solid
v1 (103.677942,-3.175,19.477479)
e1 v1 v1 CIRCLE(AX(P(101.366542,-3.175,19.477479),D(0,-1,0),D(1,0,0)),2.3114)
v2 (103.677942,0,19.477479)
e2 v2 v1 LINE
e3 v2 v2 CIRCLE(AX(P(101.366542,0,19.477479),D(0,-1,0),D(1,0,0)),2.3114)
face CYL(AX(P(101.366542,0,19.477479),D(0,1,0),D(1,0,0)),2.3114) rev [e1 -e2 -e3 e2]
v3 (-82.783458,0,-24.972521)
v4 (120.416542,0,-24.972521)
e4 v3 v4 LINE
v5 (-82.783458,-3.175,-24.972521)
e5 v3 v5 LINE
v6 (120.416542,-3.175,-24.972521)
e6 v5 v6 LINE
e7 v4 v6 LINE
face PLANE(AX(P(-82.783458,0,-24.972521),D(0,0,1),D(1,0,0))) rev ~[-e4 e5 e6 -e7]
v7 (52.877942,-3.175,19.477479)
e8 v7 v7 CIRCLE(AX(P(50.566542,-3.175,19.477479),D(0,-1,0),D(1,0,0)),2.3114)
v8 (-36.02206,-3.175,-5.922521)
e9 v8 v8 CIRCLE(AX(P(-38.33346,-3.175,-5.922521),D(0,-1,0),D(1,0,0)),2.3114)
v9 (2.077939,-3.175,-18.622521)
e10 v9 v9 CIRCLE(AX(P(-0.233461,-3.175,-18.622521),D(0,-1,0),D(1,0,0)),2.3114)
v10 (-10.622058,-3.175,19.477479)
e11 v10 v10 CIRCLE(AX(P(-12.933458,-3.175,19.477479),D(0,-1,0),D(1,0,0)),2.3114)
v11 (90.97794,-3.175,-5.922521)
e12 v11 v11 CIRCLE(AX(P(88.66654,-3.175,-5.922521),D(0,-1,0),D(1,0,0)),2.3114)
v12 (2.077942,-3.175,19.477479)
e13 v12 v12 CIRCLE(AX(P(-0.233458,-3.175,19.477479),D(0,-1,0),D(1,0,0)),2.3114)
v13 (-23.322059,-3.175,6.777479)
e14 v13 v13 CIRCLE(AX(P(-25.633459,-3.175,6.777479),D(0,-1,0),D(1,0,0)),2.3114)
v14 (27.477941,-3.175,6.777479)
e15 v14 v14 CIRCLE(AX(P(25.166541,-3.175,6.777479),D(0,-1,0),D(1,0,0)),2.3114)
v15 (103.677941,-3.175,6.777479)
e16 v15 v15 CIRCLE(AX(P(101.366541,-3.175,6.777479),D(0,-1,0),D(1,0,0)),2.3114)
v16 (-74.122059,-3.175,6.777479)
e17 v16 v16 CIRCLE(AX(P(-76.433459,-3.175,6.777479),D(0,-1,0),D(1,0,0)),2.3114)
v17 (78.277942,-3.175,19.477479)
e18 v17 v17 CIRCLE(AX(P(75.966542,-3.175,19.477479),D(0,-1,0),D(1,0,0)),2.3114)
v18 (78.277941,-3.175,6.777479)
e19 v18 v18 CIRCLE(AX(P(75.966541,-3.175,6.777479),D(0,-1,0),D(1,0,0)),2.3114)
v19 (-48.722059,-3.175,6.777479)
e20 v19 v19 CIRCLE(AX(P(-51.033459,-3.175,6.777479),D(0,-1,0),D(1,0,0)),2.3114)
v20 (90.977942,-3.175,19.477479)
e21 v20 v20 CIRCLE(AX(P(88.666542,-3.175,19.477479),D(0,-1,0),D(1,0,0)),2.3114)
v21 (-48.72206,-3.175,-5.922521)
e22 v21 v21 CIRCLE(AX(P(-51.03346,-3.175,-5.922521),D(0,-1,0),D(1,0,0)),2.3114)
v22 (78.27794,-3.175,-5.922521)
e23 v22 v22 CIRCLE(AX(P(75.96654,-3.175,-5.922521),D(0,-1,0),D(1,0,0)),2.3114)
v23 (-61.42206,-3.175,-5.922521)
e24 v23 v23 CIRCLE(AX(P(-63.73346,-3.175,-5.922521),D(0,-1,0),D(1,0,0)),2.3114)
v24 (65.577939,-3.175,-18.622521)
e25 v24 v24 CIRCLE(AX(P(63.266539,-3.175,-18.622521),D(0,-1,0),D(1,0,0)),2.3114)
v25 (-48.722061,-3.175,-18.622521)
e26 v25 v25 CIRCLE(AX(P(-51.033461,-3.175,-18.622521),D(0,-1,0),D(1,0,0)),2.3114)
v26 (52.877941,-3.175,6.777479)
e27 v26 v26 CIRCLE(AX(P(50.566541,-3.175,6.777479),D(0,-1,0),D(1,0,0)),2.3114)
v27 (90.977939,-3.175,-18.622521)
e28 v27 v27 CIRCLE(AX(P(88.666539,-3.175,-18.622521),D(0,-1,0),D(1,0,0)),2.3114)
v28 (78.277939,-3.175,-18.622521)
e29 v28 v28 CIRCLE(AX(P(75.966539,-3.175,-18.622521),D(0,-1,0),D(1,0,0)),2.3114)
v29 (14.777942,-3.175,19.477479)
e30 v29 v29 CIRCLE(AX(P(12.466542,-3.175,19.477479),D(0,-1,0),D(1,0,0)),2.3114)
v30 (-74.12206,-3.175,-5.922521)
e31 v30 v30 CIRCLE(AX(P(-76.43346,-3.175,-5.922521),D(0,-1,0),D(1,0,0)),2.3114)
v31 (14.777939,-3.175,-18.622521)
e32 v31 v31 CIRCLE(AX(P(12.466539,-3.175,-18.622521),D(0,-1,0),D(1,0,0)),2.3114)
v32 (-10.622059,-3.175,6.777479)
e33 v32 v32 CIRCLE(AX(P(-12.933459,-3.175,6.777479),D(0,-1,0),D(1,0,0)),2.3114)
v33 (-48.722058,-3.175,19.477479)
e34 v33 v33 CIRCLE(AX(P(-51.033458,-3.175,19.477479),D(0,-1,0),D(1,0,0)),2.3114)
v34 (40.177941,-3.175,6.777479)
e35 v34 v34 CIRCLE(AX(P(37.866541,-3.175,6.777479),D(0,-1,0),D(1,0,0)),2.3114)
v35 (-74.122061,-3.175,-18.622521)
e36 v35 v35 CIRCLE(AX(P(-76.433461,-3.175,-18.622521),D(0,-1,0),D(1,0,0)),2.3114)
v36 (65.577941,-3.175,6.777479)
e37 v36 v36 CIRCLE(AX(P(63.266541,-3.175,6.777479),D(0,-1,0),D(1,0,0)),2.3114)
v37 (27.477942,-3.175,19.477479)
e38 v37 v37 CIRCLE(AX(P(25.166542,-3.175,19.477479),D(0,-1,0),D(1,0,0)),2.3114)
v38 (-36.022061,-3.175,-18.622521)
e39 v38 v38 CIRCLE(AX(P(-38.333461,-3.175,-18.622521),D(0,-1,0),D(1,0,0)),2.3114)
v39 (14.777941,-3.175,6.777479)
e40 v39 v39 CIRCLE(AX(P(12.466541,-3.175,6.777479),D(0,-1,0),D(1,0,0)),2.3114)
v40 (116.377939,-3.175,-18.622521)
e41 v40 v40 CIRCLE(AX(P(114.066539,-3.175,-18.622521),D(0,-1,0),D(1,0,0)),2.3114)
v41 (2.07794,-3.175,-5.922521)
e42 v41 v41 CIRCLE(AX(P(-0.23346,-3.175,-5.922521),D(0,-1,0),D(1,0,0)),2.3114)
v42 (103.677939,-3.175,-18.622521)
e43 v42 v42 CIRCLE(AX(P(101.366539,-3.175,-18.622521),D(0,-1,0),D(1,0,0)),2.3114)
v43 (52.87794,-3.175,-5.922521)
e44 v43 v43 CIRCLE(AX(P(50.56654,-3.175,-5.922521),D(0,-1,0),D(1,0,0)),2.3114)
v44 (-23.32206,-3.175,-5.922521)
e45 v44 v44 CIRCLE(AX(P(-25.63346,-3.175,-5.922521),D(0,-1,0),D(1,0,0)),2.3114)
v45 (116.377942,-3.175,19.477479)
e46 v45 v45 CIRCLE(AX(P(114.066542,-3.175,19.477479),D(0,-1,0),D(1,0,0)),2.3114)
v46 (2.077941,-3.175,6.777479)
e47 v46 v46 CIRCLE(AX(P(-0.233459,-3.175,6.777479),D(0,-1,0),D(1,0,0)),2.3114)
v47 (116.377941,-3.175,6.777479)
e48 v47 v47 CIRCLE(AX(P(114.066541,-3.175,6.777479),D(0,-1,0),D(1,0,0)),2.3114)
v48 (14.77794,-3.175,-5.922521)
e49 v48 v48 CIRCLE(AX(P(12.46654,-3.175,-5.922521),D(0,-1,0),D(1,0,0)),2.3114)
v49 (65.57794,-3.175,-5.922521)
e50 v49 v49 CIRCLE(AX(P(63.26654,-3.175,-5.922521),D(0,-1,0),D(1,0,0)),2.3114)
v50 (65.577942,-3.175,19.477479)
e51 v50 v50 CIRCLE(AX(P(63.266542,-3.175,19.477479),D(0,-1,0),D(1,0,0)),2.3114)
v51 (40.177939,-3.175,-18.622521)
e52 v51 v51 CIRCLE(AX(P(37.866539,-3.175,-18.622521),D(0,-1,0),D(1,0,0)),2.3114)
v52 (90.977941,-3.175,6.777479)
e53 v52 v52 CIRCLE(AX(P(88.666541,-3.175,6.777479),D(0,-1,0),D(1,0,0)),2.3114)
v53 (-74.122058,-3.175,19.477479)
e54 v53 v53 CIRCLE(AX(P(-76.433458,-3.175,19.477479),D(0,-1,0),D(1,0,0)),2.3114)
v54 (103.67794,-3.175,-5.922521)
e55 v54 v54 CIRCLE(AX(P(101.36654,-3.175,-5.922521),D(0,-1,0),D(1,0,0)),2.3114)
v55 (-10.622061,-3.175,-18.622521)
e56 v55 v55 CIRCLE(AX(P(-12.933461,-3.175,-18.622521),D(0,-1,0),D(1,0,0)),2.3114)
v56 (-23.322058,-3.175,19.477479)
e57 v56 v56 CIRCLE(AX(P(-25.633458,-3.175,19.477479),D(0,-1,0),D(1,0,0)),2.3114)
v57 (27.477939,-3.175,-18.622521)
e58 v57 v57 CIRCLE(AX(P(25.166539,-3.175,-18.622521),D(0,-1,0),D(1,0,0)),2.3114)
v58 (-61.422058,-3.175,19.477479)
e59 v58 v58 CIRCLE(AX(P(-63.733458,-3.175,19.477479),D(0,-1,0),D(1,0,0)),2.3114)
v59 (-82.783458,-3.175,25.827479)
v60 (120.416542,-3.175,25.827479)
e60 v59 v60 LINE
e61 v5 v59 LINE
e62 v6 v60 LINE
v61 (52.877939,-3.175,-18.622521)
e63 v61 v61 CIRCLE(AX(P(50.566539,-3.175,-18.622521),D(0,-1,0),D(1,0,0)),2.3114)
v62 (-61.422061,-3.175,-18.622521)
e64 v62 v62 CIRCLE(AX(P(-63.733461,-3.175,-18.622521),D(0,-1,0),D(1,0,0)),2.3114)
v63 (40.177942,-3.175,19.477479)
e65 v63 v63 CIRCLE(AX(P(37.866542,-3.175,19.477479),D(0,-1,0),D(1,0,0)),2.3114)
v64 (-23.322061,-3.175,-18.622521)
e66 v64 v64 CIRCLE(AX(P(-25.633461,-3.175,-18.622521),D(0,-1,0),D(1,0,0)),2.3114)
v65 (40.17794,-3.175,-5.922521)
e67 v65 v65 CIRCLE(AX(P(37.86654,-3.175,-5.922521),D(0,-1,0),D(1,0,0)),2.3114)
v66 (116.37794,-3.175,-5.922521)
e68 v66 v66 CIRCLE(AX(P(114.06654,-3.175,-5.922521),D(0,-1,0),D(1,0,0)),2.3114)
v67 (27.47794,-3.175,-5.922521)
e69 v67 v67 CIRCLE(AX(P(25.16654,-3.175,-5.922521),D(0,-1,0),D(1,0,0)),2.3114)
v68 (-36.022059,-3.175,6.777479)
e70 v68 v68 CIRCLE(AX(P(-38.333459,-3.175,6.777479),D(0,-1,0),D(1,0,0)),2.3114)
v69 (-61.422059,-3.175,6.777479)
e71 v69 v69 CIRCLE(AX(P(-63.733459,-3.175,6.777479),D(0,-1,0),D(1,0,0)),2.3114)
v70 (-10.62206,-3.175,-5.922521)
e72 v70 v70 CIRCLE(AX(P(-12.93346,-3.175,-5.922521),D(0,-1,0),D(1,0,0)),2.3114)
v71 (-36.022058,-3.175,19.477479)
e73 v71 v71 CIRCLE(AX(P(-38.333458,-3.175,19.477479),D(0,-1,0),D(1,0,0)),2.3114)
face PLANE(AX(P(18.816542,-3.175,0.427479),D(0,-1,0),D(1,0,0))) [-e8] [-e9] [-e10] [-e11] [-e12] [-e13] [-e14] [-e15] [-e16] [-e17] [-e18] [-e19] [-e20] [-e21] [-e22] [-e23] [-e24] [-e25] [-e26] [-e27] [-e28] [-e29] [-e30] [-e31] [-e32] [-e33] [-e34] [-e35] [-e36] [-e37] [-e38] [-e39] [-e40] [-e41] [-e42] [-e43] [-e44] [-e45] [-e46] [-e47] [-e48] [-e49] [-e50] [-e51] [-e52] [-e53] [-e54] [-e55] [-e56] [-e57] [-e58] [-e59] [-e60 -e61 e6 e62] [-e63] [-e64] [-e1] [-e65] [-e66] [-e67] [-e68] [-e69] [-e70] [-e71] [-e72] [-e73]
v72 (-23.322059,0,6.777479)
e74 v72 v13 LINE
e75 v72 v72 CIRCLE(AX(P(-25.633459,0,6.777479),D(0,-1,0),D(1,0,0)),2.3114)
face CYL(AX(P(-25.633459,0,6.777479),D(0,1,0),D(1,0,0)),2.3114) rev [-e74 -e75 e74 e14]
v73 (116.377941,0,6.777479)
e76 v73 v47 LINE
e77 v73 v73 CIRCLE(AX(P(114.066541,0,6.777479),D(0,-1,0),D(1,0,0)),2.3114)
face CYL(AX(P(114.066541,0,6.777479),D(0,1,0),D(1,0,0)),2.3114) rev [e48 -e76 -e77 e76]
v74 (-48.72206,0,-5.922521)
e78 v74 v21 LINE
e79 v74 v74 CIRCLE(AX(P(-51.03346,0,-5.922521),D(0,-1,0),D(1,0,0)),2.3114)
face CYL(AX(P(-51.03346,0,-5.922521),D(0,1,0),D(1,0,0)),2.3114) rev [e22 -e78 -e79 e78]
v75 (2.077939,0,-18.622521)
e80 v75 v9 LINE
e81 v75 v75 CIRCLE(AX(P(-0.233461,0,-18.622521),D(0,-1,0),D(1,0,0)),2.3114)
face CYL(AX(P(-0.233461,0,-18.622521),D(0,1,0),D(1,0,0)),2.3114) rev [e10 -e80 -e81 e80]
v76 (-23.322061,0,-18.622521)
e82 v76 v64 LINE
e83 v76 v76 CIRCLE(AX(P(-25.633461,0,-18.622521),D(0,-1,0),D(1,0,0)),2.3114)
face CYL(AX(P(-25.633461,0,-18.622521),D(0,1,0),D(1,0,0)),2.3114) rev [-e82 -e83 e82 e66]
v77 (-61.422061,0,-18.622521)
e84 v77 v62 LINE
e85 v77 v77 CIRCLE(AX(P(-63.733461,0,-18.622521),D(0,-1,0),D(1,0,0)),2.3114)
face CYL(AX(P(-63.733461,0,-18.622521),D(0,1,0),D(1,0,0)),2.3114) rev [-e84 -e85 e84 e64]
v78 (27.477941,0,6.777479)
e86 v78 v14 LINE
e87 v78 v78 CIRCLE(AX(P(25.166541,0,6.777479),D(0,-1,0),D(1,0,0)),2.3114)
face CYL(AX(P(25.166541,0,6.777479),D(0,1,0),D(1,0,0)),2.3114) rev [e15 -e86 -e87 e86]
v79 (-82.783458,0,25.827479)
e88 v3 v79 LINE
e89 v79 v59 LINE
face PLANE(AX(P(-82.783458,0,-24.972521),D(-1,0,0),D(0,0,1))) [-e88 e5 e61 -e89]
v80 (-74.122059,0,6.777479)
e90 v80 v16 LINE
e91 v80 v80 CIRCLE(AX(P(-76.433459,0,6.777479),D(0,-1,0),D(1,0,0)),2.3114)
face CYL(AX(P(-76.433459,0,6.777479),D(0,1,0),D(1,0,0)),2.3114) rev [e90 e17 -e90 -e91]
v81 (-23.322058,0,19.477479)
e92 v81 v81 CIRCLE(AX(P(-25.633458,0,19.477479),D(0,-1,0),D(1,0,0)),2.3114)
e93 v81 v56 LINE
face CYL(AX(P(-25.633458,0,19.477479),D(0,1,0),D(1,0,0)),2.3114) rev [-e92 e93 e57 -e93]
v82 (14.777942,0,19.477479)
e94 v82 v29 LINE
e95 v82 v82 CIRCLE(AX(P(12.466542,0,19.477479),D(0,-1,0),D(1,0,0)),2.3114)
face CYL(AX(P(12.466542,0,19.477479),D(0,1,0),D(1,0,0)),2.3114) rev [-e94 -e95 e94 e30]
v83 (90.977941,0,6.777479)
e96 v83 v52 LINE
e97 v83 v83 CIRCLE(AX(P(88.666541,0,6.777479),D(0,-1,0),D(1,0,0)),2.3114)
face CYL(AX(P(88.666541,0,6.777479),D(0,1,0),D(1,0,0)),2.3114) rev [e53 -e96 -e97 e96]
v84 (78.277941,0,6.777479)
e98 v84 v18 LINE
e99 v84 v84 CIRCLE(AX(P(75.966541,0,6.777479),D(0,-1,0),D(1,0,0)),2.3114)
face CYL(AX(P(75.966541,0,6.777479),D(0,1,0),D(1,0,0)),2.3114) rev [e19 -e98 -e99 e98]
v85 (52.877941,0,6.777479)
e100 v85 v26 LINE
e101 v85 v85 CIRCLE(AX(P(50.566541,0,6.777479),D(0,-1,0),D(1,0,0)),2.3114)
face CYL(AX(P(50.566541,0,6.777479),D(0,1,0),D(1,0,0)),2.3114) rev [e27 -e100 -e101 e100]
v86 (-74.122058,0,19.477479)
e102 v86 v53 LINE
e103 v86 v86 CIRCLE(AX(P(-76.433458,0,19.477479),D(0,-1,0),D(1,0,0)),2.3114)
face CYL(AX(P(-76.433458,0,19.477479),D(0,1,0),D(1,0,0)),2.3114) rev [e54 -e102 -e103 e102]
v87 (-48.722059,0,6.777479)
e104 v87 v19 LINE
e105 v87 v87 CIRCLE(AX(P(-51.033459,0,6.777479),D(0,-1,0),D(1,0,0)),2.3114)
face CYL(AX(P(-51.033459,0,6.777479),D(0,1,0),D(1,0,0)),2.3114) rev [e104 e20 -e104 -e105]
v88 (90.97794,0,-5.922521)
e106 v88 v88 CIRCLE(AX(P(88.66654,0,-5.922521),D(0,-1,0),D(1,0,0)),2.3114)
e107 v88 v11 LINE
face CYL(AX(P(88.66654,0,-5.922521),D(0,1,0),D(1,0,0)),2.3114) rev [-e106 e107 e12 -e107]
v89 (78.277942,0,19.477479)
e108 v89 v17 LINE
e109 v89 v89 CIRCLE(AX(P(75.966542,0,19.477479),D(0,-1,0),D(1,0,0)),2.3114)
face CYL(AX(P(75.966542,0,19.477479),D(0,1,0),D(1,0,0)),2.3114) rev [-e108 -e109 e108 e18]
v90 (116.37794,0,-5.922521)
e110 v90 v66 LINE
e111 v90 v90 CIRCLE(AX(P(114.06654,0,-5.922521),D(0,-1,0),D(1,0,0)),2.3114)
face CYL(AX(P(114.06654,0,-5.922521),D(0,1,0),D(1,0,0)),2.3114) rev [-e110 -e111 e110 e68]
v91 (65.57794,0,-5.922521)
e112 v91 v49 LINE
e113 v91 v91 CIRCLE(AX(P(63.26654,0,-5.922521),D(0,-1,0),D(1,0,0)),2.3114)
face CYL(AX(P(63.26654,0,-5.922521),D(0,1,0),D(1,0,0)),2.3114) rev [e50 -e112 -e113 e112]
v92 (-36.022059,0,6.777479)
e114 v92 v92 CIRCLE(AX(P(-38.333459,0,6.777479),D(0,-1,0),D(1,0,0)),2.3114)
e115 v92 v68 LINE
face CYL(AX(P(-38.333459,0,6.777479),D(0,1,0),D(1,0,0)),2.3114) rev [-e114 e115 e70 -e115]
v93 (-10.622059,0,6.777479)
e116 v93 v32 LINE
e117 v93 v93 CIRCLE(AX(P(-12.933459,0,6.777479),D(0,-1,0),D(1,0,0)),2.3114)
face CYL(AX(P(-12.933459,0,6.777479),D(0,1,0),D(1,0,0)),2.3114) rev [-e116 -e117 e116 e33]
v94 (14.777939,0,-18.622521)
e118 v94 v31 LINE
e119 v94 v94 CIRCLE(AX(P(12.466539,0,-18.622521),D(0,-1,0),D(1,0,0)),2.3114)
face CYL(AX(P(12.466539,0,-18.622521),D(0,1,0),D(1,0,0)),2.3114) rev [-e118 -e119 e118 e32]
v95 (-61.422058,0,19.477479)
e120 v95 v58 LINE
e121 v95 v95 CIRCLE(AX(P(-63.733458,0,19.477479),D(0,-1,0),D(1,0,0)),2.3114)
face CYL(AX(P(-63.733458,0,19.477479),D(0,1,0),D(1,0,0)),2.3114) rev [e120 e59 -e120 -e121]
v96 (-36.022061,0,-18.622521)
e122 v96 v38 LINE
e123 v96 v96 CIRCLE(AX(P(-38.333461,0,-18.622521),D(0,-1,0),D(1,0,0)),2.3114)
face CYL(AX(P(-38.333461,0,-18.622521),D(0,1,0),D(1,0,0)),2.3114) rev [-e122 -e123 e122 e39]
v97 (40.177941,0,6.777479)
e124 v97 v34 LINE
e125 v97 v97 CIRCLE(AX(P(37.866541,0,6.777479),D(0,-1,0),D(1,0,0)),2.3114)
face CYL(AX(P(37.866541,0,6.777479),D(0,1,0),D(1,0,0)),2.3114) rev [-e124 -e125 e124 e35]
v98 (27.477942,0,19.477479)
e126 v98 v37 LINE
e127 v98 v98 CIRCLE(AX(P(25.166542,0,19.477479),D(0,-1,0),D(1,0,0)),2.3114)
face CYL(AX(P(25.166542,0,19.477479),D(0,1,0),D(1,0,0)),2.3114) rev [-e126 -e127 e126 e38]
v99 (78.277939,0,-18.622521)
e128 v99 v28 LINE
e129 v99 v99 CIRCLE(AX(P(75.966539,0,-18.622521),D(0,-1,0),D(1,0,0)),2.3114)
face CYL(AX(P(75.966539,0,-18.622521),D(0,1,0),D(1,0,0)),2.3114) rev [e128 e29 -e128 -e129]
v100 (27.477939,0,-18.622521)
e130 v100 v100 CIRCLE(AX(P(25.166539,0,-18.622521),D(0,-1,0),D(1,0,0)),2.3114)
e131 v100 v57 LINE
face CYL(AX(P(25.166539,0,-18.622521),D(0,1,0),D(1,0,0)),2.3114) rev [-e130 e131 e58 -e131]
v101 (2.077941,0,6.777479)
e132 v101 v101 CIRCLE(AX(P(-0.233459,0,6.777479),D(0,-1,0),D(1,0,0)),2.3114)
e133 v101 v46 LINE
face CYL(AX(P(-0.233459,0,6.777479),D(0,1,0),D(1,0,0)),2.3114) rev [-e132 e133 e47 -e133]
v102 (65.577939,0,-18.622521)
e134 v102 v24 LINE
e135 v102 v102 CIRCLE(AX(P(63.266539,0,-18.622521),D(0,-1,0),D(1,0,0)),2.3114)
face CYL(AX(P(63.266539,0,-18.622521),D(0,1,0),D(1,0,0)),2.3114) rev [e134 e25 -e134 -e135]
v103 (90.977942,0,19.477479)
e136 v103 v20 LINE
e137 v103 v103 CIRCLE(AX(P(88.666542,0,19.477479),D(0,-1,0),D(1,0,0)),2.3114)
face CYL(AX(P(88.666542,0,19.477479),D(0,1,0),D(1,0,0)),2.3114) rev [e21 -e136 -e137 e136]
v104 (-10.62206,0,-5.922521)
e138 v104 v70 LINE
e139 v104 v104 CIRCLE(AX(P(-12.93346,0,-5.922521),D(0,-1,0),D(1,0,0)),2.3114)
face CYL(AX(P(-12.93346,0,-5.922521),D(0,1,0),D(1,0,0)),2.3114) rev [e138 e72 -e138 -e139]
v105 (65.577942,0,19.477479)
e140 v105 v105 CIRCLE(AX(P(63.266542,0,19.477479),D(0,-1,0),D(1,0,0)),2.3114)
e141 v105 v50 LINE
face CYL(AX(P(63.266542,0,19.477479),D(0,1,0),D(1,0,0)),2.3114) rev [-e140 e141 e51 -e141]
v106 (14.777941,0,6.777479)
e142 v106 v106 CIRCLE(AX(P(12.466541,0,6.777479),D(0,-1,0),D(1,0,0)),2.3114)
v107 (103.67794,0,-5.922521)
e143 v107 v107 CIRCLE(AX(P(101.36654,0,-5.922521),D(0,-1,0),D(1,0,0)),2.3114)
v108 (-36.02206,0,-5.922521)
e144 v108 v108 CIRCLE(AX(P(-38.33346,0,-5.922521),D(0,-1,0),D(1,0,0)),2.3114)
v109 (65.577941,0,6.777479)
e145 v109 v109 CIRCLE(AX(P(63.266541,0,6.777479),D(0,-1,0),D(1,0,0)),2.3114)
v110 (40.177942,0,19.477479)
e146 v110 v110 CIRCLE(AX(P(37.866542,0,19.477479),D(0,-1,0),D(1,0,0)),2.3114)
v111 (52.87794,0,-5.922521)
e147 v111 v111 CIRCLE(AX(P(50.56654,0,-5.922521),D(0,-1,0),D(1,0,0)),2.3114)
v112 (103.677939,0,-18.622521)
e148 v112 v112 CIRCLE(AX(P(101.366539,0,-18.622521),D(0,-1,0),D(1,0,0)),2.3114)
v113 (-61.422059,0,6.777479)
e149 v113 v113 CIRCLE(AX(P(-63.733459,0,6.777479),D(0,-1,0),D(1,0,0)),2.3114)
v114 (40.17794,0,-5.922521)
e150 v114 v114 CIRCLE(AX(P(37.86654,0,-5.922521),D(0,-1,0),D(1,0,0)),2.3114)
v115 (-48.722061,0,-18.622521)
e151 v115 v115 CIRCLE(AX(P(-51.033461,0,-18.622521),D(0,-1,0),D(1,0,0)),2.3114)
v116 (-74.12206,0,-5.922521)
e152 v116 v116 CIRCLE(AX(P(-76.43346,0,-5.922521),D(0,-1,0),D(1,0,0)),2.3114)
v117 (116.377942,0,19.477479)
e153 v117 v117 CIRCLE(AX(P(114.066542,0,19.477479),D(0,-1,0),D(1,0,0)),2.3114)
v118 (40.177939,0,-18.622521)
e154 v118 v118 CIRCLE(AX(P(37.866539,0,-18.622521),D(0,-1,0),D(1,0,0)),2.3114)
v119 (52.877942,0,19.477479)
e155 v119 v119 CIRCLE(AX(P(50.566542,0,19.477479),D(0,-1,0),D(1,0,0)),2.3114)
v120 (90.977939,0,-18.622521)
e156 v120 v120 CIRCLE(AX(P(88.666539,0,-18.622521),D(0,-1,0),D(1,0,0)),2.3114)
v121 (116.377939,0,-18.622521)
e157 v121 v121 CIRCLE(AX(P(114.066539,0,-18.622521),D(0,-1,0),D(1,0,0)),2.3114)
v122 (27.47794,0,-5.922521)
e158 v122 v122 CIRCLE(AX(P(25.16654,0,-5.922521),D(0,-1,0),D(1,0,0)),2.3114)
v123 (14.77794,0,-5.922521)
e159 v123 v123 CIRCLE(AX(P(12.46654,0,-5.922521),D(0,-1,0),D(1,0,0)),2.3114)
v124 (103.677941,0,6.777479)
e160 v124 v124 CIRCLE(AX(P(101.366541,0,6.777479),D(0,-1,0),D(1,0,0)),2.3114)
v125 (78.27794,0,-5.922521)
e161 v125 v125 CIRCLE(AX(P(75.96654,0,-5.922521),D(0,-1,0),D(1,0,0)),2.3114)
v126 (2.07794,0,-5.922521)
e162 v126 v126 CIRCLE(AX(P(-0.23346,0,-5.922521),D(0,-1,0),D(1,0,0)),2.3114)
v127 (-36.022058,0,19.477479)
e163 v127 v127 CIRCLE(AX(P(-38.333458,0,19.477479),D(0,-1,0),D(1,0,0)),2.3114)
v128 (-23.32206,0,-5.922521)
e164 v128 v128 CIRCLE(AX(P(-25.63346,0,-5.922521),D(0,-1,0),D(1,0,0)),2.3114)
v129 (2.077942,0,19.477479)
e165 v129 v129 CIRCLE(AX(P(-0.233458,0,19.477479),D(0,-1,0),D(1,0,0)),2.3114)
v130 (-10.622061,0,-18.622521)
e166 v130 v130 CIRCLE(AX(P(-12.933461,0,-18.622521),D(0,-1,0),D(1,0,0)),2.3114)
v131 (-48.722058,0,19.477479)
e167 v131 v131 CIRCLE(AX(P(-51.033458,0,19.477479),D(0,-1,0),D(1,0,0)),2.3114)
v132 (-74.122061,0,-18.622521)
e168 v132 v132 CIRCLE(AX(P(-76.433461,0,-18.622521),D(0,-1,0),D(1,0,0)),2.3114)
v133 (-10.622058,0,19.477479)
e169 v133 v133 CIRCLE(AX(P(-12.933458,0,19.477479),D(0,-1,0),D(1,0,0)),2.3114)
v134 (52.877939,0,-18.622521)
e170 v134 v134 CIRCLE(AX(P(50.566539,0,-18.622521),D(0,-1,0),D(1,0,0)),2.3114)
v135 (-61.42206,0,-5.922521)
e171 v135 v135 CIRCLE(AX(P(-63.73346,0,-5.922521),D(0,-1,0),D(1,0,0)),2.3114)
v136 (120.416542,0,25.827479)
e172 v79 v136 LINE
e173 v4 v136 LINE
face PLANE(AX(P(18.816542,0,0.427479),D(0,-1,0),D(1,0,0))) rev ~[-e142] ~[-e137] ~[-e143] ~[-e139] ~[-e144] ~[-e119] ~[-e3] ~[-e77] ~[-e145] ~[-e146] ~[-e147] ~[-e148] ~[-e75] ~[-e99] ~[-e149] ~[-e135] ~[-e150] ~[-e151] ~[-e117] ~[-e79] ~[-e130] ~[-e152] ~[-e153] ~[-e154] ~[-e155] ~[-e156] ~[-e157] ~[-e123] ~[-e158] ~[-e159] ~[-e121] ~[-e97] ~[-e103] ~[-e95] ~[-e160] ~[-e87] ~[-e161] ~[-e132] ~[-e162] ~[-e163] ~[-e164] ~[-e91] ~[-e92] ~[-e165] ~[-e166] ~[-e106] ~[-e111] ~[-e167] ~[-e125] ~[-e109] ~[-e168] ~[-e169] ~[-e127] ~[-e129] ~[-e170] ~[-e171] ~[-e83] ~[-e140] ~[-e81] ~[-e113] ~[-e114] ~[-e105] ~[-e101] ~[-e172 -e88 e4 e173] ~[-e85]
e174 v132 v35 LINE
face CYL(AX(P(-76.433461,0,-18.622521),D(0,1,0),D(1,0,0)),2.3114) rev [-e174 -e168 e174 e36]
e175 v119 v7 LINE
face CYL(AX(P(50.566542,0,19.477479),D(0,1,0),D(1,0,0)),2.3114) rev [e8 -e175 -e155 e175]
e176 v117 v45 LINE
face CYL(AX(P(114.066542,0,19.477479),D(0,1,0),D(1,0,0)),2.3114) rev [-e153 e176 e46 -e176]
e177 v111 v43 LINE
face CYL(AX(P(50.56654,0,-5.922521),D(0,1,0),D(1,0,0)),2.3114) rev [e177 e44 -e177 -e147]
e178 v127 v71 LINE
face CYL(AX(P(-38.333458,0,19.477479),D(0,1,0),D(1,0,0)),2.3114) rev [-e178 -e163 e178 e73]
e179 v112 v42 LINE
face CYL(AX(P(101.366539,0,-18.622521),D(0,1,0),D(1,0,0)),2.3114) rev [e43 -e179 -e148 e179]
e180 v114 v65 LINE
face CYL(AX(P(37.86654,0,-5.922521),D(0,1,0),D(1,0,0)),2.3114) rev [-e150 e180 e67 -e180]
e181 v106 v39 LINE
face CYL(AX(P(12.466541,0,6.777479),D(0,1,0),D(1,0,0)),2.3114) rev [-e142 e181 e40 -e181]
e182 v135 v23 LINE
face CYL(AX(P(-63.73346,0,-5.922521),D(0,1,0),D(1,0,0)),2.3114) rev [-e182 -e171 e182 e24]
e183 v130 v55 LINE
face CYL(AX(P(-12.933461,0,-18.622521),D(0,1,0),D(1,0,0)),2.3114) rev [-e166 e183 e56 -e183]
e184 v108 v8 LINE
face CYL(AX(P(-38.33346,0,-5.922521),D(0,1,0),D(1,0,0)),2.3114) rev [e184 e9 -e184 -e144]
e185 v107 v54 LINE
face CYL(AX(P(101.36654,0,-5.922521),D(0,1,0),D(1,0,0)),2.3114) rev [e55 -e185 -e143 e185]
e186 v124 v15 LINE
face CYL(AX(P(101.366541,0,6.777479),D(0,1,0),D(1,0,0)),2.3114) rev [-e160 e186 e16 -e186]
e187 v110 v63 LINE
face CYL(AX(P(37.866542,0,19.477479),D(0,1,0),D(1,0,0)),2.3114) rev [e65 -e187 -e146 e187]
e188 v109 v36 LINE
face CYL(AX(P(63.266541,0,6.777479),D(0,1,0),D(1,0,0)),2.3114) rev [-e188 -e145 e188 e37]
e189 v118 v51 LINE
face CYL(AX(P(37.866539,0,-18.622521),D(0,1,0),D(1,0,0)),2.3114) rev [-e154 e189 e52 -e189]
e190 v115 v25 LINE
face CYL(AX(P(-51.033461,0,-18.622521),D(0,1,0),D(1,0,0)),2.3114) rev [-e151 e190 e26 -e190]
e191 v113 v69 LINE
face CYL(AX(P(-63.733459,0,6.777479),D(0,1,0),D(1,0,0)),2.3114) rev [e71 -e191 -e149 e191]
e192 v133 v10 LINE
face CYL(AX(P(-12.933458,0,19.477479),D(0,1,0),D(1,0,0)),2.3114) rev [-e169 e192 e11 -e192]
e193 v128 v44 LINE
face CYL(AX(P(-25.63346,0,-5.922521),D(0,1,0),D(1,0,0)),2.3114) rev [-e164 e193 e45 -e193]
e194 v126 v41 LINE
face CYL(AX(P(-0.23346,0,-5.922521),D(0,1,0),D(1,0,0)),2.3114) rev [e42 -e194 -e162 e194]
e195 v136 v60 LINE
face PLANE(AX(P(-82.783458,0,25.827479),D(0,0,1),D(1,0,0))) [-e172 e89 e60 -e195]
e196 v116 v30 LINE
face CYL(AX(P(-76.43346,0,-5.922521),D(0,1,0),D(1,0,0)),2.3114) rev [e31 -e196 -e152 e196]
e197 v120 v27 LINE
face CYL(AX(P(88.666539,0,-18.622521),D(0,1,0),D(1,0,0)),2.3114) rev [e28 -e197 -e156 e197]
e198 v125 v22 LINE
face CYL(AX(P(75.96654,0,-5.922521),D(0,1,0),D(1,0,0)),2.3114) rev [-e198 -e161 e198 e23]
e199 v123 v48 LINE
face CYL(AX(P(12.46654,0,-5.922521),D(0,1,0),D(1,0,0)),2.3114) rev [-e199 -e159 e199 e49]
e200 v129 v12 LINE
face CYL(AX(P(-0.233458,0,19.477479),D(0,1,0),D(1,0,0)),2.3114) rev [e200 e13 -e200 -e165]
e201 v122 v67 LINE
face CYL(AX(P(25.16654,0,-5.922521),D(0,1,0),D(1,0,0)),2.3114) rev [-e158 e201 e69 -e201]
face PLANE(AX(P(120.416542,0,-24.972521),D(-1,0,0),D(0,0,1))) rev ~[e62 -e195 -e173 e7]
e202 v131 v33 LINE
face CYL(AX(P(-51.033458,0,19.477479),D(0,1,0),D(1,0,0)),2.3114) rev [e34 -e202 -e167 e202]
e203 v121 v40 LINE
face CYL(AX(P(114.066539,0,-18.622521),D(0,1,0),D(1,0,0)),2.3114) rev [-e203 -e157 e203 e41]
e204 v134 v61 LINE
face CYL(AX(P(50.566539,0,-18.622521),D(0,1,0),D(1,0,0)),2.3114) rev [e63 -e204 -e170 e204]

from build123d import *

# Parameters (mm, degrees)
F0_W     = 203.2
F0_H     = 50.8
F0_R     = 2.3114
F1_DEPTH = 3.175


with BuildPart() as f1:
    # F0 (on Front) → F1 (new body)
    with BuildSketch(Plane.XZ):
        with Locations((18.816542, 0.427479)):
            Rectangle(F0_W, F0_H)
        with Locations((-76.433461, -18.622521)):
            Circle(F0_R, mode=Mode.SUBTRACT)
        with Locations((-63.733461, -18.622521)):
            Circle(F0_R, mode=Mode.SUBTRACT)
        with Locations((-51.033461, -18.622521)):
            Circle(F0_R, mode=Mode.SUBTRACT)
        with Locations((-38.333461, -18.622521)):
            Circle(F0_R, mode=Mode.SUBTRACT)
        with Locations((-25.633461, -18.622521)):
            Circle(F0_R, mode=Mode.SUBTRACT)
        with Locations((-12.933461, -18.622521)):
            Circle(F0_R, mode=Mode.SUBTRACT)
        with Locations((-0.233461, -18.622521)):
            Circle(F0_R, mode=Mode.SUBTRACT)
        with Locations((12.466539, -18.622521)):
            Circle(F0_R, mode=Mode.SUBTRACT)
        with Locations((-76.43346, -5.922521)):
            Circle(F0_R, mode=Mode.SUBTRACT)
        with Locations((-63.73346, -5.922521)):
            Circle(F0_R, mode=Mode.SUBTRACT)
        with Locations((-51.03346, -5.922521)):
            Circle(F0_R, mode=Mode.SUBTRACT)
        with Locations((-38.33346, -5.922521)):
            Circle(F0_R, mode=Mode.SUBTRACT)
        with Locations((-25.63346, -5.922521)):
            Circle(F0_R, mode=Mode.SUBTRACT)
        with Locations((-12.93346, -5.922521)):
            Circle(F0_R, mode=Mode.SUBTRACT)
        with Locations((-0.23346, -5.922521)):
            Circle(F0_R, mode=Mode.SUBTRACT)
        with Locations((12.46654, -5.922521)):
            Circle(F0_R, mode=Mode.SUBTRACT)
        with Locations((25.166539, -18.622521)):
            Circle(F0_R, mode=Mode.SUBTRACT)
        with Locations((37.866539, -18.622521)):
            Circle(F0_R, mode=Mode.SUBTRACT)
        with Locations((50.566539, -18.622521)):
            Circle(F0_R, mode=Mode.SUBTRACT)
        with Locations((63.266539, -18.622521)):
            Circle(F0_R, mode=Mode.SUBTRACT)
        with Locations((75.966539, -18.622521)):
            Circle(F0_R, mode=Mode.SUBTRACT)
        with Locations((88.666539, -18.622521)):
            Circle(F0_R, mode=Mode.SUBTRACT)
        with Locations((101.366539, -18.622521)):
            Circle(F0_R, mode=Mode.SUBTRACT)
        with Locations((114.066539, -18.622521)):
            Circle(F0_R, mode=Mode.SUBTRACT)
        with Locations((25.16654, -5.922521)):
            Circle(F0_R, mode=Mode.SUBTRACT)
        with Locations((37.86654, -5.922521)):
            Circle(F0_R, mode=Mode.SUBTRACT)
        with Locations((50.56654, -5.922521)):
            Circle(F0_R, mode=Mode.SUBTRACT)
        with Locations((63.26654, -5.922521)):
            Circle(F0_R, mode=Mode.SUBTRACT)
        with Locations((75.96654, -5.922521)):
            Circle(F0_R, mode=Mode.SUBTRACT)
        with Locations((88.66654, -5.922521)):
            Circle(F0_R, mode=Mode.SUBTRACT)
        with Locations((101.36654, -5.922521)):
            Circle(F0_R, mode=Mode.SUBTRACT)
        with Locations((114.06654, -5.922521)):
            Circle(F0_R, mode=Mode.SUBTRACT)
        with Locations((-76.433459, 6.777479)):
            Circle(F0_R, mode=Mode.SUBTRACT)
        with Locations((-63.733459, 6.777479)):
            Circle(F0_R, mode=Mode.SUBTRACT)
        with Locations((-51.033459, 6.777479)):
            Circle(F0_R, mode=Mode.SUBTRACT)
        with Locations((-38.333459, 6.777479)):
            Circle(F0_R, mode=Mode.SUBTRACT)
        with Locations((-25.633459, 6.777479)):
            Circle(F0_R, mode=Mode.SUBTRACT)
        with Locations((-12.933459, 6.777479)):
            Circle(F0_R, mode=Mode.SUBTRACT)
        with Locations((-0.233459, 6.777479)):
            Circle(F0_R, mode=Mode.SUBTRACT)
        with Locations((12.466541, 6.777479)):
            Circle(F0_R, mode=Mode.SUBTRACT)
        with Locations((-76.433458, 19.477479)):
            Circle(F0_R, mode=Mode.SUBTRACT)
        with Locations((-63.733458, 19.477479)):
            Circle(F0_R, mode=Mode.SUBTRACT)
        with Locations((-51.033458, 19.477479)):
            Circle(F0_R, mode=Mode.SUBTRACT)
        with Locations((-38.333458, 19.477479)):
            Circle(F0_R, mode=Mode.SUBTRACT)
        with Locations((-25.633458, 19.477479)):
            Circle(F0_R, mode=Mode.SUBTRACT)
        with Locations((-12.933458, 19.477479)):
            Circle(F0_R, mode=Mode.SUBTRACT)
        with Locations((-0.233458, 19.477479)):
            Circle(F0_R, mode=Mode.SUBTRACT)
        with Locations((12.466542, 19.477479)):
            Circle(F0_R, mode=Mode.SUBTRACT)
        with Locations((25.166541, 6.777479)):
            Circle(F0_R, mode=Mode.SUBTRACT)
        with Locations((37.866541, 6.777479)):
            Circle(F0_R, mode=Mode.SUBTRACT)
        with Locations((50.566541, 6.777479)):
            Circle(F0_R, mode=Mode.SUBTRACT)
        with Locations((63.266541, 6.777479)):
            Circle(F0_R, mode=Mode.SUBTRACT)
        with Locations((75.966541, 6.777479)):
            Circle(F0_R, mode=Mode.SUBTRACT)
        with Locations((88.666541, 6.777479)):
            Circle(F0_R, mode=Mode.SUBTRACT)
        with Locations((101.366541, 6.777479)):
            Circle(F0_R, mode=Mode.SUBTRACT)
        with Locations((114.066541, 6.777479)):
            Circle(F0_R, mode=Mode.SUBTRACT)
        with Locations((25.166542, 19.477479)):
            Circle(F0_R, mode=Mode.SUBTRACT)
        with Locations((37.866542, 19.477479)):
            Circle(F0_R, mode=Mode.SUBTRACT)
        with Locations((50.566542, 19.477479)):
            Circle(F0_R, mode=Mode.SUBTRACT)
        with Locations((63.266542, 19.477479)):
            Circle(F0_R, mode=Mode.SUBTRACT)
        with Locations((75.966542, 19.477479)):
            Circle(F0_R, mode=Mode.SUBTRACT)
        with Locations((88.666542, 19.477479)):
            Circle(F0_R, mode=Mode.SUBTRACT)
        with Locations((101.366542, 19.477479)):
            Circle(F0_R, mode=Mode.SUBTRACT)
        with Locations((114.066542, 19.477479)):
            Circle(F0_R, mode=Mode.SUBTRACT)
    extrude(amount=F1_DEPTH)


solid = f1.part
